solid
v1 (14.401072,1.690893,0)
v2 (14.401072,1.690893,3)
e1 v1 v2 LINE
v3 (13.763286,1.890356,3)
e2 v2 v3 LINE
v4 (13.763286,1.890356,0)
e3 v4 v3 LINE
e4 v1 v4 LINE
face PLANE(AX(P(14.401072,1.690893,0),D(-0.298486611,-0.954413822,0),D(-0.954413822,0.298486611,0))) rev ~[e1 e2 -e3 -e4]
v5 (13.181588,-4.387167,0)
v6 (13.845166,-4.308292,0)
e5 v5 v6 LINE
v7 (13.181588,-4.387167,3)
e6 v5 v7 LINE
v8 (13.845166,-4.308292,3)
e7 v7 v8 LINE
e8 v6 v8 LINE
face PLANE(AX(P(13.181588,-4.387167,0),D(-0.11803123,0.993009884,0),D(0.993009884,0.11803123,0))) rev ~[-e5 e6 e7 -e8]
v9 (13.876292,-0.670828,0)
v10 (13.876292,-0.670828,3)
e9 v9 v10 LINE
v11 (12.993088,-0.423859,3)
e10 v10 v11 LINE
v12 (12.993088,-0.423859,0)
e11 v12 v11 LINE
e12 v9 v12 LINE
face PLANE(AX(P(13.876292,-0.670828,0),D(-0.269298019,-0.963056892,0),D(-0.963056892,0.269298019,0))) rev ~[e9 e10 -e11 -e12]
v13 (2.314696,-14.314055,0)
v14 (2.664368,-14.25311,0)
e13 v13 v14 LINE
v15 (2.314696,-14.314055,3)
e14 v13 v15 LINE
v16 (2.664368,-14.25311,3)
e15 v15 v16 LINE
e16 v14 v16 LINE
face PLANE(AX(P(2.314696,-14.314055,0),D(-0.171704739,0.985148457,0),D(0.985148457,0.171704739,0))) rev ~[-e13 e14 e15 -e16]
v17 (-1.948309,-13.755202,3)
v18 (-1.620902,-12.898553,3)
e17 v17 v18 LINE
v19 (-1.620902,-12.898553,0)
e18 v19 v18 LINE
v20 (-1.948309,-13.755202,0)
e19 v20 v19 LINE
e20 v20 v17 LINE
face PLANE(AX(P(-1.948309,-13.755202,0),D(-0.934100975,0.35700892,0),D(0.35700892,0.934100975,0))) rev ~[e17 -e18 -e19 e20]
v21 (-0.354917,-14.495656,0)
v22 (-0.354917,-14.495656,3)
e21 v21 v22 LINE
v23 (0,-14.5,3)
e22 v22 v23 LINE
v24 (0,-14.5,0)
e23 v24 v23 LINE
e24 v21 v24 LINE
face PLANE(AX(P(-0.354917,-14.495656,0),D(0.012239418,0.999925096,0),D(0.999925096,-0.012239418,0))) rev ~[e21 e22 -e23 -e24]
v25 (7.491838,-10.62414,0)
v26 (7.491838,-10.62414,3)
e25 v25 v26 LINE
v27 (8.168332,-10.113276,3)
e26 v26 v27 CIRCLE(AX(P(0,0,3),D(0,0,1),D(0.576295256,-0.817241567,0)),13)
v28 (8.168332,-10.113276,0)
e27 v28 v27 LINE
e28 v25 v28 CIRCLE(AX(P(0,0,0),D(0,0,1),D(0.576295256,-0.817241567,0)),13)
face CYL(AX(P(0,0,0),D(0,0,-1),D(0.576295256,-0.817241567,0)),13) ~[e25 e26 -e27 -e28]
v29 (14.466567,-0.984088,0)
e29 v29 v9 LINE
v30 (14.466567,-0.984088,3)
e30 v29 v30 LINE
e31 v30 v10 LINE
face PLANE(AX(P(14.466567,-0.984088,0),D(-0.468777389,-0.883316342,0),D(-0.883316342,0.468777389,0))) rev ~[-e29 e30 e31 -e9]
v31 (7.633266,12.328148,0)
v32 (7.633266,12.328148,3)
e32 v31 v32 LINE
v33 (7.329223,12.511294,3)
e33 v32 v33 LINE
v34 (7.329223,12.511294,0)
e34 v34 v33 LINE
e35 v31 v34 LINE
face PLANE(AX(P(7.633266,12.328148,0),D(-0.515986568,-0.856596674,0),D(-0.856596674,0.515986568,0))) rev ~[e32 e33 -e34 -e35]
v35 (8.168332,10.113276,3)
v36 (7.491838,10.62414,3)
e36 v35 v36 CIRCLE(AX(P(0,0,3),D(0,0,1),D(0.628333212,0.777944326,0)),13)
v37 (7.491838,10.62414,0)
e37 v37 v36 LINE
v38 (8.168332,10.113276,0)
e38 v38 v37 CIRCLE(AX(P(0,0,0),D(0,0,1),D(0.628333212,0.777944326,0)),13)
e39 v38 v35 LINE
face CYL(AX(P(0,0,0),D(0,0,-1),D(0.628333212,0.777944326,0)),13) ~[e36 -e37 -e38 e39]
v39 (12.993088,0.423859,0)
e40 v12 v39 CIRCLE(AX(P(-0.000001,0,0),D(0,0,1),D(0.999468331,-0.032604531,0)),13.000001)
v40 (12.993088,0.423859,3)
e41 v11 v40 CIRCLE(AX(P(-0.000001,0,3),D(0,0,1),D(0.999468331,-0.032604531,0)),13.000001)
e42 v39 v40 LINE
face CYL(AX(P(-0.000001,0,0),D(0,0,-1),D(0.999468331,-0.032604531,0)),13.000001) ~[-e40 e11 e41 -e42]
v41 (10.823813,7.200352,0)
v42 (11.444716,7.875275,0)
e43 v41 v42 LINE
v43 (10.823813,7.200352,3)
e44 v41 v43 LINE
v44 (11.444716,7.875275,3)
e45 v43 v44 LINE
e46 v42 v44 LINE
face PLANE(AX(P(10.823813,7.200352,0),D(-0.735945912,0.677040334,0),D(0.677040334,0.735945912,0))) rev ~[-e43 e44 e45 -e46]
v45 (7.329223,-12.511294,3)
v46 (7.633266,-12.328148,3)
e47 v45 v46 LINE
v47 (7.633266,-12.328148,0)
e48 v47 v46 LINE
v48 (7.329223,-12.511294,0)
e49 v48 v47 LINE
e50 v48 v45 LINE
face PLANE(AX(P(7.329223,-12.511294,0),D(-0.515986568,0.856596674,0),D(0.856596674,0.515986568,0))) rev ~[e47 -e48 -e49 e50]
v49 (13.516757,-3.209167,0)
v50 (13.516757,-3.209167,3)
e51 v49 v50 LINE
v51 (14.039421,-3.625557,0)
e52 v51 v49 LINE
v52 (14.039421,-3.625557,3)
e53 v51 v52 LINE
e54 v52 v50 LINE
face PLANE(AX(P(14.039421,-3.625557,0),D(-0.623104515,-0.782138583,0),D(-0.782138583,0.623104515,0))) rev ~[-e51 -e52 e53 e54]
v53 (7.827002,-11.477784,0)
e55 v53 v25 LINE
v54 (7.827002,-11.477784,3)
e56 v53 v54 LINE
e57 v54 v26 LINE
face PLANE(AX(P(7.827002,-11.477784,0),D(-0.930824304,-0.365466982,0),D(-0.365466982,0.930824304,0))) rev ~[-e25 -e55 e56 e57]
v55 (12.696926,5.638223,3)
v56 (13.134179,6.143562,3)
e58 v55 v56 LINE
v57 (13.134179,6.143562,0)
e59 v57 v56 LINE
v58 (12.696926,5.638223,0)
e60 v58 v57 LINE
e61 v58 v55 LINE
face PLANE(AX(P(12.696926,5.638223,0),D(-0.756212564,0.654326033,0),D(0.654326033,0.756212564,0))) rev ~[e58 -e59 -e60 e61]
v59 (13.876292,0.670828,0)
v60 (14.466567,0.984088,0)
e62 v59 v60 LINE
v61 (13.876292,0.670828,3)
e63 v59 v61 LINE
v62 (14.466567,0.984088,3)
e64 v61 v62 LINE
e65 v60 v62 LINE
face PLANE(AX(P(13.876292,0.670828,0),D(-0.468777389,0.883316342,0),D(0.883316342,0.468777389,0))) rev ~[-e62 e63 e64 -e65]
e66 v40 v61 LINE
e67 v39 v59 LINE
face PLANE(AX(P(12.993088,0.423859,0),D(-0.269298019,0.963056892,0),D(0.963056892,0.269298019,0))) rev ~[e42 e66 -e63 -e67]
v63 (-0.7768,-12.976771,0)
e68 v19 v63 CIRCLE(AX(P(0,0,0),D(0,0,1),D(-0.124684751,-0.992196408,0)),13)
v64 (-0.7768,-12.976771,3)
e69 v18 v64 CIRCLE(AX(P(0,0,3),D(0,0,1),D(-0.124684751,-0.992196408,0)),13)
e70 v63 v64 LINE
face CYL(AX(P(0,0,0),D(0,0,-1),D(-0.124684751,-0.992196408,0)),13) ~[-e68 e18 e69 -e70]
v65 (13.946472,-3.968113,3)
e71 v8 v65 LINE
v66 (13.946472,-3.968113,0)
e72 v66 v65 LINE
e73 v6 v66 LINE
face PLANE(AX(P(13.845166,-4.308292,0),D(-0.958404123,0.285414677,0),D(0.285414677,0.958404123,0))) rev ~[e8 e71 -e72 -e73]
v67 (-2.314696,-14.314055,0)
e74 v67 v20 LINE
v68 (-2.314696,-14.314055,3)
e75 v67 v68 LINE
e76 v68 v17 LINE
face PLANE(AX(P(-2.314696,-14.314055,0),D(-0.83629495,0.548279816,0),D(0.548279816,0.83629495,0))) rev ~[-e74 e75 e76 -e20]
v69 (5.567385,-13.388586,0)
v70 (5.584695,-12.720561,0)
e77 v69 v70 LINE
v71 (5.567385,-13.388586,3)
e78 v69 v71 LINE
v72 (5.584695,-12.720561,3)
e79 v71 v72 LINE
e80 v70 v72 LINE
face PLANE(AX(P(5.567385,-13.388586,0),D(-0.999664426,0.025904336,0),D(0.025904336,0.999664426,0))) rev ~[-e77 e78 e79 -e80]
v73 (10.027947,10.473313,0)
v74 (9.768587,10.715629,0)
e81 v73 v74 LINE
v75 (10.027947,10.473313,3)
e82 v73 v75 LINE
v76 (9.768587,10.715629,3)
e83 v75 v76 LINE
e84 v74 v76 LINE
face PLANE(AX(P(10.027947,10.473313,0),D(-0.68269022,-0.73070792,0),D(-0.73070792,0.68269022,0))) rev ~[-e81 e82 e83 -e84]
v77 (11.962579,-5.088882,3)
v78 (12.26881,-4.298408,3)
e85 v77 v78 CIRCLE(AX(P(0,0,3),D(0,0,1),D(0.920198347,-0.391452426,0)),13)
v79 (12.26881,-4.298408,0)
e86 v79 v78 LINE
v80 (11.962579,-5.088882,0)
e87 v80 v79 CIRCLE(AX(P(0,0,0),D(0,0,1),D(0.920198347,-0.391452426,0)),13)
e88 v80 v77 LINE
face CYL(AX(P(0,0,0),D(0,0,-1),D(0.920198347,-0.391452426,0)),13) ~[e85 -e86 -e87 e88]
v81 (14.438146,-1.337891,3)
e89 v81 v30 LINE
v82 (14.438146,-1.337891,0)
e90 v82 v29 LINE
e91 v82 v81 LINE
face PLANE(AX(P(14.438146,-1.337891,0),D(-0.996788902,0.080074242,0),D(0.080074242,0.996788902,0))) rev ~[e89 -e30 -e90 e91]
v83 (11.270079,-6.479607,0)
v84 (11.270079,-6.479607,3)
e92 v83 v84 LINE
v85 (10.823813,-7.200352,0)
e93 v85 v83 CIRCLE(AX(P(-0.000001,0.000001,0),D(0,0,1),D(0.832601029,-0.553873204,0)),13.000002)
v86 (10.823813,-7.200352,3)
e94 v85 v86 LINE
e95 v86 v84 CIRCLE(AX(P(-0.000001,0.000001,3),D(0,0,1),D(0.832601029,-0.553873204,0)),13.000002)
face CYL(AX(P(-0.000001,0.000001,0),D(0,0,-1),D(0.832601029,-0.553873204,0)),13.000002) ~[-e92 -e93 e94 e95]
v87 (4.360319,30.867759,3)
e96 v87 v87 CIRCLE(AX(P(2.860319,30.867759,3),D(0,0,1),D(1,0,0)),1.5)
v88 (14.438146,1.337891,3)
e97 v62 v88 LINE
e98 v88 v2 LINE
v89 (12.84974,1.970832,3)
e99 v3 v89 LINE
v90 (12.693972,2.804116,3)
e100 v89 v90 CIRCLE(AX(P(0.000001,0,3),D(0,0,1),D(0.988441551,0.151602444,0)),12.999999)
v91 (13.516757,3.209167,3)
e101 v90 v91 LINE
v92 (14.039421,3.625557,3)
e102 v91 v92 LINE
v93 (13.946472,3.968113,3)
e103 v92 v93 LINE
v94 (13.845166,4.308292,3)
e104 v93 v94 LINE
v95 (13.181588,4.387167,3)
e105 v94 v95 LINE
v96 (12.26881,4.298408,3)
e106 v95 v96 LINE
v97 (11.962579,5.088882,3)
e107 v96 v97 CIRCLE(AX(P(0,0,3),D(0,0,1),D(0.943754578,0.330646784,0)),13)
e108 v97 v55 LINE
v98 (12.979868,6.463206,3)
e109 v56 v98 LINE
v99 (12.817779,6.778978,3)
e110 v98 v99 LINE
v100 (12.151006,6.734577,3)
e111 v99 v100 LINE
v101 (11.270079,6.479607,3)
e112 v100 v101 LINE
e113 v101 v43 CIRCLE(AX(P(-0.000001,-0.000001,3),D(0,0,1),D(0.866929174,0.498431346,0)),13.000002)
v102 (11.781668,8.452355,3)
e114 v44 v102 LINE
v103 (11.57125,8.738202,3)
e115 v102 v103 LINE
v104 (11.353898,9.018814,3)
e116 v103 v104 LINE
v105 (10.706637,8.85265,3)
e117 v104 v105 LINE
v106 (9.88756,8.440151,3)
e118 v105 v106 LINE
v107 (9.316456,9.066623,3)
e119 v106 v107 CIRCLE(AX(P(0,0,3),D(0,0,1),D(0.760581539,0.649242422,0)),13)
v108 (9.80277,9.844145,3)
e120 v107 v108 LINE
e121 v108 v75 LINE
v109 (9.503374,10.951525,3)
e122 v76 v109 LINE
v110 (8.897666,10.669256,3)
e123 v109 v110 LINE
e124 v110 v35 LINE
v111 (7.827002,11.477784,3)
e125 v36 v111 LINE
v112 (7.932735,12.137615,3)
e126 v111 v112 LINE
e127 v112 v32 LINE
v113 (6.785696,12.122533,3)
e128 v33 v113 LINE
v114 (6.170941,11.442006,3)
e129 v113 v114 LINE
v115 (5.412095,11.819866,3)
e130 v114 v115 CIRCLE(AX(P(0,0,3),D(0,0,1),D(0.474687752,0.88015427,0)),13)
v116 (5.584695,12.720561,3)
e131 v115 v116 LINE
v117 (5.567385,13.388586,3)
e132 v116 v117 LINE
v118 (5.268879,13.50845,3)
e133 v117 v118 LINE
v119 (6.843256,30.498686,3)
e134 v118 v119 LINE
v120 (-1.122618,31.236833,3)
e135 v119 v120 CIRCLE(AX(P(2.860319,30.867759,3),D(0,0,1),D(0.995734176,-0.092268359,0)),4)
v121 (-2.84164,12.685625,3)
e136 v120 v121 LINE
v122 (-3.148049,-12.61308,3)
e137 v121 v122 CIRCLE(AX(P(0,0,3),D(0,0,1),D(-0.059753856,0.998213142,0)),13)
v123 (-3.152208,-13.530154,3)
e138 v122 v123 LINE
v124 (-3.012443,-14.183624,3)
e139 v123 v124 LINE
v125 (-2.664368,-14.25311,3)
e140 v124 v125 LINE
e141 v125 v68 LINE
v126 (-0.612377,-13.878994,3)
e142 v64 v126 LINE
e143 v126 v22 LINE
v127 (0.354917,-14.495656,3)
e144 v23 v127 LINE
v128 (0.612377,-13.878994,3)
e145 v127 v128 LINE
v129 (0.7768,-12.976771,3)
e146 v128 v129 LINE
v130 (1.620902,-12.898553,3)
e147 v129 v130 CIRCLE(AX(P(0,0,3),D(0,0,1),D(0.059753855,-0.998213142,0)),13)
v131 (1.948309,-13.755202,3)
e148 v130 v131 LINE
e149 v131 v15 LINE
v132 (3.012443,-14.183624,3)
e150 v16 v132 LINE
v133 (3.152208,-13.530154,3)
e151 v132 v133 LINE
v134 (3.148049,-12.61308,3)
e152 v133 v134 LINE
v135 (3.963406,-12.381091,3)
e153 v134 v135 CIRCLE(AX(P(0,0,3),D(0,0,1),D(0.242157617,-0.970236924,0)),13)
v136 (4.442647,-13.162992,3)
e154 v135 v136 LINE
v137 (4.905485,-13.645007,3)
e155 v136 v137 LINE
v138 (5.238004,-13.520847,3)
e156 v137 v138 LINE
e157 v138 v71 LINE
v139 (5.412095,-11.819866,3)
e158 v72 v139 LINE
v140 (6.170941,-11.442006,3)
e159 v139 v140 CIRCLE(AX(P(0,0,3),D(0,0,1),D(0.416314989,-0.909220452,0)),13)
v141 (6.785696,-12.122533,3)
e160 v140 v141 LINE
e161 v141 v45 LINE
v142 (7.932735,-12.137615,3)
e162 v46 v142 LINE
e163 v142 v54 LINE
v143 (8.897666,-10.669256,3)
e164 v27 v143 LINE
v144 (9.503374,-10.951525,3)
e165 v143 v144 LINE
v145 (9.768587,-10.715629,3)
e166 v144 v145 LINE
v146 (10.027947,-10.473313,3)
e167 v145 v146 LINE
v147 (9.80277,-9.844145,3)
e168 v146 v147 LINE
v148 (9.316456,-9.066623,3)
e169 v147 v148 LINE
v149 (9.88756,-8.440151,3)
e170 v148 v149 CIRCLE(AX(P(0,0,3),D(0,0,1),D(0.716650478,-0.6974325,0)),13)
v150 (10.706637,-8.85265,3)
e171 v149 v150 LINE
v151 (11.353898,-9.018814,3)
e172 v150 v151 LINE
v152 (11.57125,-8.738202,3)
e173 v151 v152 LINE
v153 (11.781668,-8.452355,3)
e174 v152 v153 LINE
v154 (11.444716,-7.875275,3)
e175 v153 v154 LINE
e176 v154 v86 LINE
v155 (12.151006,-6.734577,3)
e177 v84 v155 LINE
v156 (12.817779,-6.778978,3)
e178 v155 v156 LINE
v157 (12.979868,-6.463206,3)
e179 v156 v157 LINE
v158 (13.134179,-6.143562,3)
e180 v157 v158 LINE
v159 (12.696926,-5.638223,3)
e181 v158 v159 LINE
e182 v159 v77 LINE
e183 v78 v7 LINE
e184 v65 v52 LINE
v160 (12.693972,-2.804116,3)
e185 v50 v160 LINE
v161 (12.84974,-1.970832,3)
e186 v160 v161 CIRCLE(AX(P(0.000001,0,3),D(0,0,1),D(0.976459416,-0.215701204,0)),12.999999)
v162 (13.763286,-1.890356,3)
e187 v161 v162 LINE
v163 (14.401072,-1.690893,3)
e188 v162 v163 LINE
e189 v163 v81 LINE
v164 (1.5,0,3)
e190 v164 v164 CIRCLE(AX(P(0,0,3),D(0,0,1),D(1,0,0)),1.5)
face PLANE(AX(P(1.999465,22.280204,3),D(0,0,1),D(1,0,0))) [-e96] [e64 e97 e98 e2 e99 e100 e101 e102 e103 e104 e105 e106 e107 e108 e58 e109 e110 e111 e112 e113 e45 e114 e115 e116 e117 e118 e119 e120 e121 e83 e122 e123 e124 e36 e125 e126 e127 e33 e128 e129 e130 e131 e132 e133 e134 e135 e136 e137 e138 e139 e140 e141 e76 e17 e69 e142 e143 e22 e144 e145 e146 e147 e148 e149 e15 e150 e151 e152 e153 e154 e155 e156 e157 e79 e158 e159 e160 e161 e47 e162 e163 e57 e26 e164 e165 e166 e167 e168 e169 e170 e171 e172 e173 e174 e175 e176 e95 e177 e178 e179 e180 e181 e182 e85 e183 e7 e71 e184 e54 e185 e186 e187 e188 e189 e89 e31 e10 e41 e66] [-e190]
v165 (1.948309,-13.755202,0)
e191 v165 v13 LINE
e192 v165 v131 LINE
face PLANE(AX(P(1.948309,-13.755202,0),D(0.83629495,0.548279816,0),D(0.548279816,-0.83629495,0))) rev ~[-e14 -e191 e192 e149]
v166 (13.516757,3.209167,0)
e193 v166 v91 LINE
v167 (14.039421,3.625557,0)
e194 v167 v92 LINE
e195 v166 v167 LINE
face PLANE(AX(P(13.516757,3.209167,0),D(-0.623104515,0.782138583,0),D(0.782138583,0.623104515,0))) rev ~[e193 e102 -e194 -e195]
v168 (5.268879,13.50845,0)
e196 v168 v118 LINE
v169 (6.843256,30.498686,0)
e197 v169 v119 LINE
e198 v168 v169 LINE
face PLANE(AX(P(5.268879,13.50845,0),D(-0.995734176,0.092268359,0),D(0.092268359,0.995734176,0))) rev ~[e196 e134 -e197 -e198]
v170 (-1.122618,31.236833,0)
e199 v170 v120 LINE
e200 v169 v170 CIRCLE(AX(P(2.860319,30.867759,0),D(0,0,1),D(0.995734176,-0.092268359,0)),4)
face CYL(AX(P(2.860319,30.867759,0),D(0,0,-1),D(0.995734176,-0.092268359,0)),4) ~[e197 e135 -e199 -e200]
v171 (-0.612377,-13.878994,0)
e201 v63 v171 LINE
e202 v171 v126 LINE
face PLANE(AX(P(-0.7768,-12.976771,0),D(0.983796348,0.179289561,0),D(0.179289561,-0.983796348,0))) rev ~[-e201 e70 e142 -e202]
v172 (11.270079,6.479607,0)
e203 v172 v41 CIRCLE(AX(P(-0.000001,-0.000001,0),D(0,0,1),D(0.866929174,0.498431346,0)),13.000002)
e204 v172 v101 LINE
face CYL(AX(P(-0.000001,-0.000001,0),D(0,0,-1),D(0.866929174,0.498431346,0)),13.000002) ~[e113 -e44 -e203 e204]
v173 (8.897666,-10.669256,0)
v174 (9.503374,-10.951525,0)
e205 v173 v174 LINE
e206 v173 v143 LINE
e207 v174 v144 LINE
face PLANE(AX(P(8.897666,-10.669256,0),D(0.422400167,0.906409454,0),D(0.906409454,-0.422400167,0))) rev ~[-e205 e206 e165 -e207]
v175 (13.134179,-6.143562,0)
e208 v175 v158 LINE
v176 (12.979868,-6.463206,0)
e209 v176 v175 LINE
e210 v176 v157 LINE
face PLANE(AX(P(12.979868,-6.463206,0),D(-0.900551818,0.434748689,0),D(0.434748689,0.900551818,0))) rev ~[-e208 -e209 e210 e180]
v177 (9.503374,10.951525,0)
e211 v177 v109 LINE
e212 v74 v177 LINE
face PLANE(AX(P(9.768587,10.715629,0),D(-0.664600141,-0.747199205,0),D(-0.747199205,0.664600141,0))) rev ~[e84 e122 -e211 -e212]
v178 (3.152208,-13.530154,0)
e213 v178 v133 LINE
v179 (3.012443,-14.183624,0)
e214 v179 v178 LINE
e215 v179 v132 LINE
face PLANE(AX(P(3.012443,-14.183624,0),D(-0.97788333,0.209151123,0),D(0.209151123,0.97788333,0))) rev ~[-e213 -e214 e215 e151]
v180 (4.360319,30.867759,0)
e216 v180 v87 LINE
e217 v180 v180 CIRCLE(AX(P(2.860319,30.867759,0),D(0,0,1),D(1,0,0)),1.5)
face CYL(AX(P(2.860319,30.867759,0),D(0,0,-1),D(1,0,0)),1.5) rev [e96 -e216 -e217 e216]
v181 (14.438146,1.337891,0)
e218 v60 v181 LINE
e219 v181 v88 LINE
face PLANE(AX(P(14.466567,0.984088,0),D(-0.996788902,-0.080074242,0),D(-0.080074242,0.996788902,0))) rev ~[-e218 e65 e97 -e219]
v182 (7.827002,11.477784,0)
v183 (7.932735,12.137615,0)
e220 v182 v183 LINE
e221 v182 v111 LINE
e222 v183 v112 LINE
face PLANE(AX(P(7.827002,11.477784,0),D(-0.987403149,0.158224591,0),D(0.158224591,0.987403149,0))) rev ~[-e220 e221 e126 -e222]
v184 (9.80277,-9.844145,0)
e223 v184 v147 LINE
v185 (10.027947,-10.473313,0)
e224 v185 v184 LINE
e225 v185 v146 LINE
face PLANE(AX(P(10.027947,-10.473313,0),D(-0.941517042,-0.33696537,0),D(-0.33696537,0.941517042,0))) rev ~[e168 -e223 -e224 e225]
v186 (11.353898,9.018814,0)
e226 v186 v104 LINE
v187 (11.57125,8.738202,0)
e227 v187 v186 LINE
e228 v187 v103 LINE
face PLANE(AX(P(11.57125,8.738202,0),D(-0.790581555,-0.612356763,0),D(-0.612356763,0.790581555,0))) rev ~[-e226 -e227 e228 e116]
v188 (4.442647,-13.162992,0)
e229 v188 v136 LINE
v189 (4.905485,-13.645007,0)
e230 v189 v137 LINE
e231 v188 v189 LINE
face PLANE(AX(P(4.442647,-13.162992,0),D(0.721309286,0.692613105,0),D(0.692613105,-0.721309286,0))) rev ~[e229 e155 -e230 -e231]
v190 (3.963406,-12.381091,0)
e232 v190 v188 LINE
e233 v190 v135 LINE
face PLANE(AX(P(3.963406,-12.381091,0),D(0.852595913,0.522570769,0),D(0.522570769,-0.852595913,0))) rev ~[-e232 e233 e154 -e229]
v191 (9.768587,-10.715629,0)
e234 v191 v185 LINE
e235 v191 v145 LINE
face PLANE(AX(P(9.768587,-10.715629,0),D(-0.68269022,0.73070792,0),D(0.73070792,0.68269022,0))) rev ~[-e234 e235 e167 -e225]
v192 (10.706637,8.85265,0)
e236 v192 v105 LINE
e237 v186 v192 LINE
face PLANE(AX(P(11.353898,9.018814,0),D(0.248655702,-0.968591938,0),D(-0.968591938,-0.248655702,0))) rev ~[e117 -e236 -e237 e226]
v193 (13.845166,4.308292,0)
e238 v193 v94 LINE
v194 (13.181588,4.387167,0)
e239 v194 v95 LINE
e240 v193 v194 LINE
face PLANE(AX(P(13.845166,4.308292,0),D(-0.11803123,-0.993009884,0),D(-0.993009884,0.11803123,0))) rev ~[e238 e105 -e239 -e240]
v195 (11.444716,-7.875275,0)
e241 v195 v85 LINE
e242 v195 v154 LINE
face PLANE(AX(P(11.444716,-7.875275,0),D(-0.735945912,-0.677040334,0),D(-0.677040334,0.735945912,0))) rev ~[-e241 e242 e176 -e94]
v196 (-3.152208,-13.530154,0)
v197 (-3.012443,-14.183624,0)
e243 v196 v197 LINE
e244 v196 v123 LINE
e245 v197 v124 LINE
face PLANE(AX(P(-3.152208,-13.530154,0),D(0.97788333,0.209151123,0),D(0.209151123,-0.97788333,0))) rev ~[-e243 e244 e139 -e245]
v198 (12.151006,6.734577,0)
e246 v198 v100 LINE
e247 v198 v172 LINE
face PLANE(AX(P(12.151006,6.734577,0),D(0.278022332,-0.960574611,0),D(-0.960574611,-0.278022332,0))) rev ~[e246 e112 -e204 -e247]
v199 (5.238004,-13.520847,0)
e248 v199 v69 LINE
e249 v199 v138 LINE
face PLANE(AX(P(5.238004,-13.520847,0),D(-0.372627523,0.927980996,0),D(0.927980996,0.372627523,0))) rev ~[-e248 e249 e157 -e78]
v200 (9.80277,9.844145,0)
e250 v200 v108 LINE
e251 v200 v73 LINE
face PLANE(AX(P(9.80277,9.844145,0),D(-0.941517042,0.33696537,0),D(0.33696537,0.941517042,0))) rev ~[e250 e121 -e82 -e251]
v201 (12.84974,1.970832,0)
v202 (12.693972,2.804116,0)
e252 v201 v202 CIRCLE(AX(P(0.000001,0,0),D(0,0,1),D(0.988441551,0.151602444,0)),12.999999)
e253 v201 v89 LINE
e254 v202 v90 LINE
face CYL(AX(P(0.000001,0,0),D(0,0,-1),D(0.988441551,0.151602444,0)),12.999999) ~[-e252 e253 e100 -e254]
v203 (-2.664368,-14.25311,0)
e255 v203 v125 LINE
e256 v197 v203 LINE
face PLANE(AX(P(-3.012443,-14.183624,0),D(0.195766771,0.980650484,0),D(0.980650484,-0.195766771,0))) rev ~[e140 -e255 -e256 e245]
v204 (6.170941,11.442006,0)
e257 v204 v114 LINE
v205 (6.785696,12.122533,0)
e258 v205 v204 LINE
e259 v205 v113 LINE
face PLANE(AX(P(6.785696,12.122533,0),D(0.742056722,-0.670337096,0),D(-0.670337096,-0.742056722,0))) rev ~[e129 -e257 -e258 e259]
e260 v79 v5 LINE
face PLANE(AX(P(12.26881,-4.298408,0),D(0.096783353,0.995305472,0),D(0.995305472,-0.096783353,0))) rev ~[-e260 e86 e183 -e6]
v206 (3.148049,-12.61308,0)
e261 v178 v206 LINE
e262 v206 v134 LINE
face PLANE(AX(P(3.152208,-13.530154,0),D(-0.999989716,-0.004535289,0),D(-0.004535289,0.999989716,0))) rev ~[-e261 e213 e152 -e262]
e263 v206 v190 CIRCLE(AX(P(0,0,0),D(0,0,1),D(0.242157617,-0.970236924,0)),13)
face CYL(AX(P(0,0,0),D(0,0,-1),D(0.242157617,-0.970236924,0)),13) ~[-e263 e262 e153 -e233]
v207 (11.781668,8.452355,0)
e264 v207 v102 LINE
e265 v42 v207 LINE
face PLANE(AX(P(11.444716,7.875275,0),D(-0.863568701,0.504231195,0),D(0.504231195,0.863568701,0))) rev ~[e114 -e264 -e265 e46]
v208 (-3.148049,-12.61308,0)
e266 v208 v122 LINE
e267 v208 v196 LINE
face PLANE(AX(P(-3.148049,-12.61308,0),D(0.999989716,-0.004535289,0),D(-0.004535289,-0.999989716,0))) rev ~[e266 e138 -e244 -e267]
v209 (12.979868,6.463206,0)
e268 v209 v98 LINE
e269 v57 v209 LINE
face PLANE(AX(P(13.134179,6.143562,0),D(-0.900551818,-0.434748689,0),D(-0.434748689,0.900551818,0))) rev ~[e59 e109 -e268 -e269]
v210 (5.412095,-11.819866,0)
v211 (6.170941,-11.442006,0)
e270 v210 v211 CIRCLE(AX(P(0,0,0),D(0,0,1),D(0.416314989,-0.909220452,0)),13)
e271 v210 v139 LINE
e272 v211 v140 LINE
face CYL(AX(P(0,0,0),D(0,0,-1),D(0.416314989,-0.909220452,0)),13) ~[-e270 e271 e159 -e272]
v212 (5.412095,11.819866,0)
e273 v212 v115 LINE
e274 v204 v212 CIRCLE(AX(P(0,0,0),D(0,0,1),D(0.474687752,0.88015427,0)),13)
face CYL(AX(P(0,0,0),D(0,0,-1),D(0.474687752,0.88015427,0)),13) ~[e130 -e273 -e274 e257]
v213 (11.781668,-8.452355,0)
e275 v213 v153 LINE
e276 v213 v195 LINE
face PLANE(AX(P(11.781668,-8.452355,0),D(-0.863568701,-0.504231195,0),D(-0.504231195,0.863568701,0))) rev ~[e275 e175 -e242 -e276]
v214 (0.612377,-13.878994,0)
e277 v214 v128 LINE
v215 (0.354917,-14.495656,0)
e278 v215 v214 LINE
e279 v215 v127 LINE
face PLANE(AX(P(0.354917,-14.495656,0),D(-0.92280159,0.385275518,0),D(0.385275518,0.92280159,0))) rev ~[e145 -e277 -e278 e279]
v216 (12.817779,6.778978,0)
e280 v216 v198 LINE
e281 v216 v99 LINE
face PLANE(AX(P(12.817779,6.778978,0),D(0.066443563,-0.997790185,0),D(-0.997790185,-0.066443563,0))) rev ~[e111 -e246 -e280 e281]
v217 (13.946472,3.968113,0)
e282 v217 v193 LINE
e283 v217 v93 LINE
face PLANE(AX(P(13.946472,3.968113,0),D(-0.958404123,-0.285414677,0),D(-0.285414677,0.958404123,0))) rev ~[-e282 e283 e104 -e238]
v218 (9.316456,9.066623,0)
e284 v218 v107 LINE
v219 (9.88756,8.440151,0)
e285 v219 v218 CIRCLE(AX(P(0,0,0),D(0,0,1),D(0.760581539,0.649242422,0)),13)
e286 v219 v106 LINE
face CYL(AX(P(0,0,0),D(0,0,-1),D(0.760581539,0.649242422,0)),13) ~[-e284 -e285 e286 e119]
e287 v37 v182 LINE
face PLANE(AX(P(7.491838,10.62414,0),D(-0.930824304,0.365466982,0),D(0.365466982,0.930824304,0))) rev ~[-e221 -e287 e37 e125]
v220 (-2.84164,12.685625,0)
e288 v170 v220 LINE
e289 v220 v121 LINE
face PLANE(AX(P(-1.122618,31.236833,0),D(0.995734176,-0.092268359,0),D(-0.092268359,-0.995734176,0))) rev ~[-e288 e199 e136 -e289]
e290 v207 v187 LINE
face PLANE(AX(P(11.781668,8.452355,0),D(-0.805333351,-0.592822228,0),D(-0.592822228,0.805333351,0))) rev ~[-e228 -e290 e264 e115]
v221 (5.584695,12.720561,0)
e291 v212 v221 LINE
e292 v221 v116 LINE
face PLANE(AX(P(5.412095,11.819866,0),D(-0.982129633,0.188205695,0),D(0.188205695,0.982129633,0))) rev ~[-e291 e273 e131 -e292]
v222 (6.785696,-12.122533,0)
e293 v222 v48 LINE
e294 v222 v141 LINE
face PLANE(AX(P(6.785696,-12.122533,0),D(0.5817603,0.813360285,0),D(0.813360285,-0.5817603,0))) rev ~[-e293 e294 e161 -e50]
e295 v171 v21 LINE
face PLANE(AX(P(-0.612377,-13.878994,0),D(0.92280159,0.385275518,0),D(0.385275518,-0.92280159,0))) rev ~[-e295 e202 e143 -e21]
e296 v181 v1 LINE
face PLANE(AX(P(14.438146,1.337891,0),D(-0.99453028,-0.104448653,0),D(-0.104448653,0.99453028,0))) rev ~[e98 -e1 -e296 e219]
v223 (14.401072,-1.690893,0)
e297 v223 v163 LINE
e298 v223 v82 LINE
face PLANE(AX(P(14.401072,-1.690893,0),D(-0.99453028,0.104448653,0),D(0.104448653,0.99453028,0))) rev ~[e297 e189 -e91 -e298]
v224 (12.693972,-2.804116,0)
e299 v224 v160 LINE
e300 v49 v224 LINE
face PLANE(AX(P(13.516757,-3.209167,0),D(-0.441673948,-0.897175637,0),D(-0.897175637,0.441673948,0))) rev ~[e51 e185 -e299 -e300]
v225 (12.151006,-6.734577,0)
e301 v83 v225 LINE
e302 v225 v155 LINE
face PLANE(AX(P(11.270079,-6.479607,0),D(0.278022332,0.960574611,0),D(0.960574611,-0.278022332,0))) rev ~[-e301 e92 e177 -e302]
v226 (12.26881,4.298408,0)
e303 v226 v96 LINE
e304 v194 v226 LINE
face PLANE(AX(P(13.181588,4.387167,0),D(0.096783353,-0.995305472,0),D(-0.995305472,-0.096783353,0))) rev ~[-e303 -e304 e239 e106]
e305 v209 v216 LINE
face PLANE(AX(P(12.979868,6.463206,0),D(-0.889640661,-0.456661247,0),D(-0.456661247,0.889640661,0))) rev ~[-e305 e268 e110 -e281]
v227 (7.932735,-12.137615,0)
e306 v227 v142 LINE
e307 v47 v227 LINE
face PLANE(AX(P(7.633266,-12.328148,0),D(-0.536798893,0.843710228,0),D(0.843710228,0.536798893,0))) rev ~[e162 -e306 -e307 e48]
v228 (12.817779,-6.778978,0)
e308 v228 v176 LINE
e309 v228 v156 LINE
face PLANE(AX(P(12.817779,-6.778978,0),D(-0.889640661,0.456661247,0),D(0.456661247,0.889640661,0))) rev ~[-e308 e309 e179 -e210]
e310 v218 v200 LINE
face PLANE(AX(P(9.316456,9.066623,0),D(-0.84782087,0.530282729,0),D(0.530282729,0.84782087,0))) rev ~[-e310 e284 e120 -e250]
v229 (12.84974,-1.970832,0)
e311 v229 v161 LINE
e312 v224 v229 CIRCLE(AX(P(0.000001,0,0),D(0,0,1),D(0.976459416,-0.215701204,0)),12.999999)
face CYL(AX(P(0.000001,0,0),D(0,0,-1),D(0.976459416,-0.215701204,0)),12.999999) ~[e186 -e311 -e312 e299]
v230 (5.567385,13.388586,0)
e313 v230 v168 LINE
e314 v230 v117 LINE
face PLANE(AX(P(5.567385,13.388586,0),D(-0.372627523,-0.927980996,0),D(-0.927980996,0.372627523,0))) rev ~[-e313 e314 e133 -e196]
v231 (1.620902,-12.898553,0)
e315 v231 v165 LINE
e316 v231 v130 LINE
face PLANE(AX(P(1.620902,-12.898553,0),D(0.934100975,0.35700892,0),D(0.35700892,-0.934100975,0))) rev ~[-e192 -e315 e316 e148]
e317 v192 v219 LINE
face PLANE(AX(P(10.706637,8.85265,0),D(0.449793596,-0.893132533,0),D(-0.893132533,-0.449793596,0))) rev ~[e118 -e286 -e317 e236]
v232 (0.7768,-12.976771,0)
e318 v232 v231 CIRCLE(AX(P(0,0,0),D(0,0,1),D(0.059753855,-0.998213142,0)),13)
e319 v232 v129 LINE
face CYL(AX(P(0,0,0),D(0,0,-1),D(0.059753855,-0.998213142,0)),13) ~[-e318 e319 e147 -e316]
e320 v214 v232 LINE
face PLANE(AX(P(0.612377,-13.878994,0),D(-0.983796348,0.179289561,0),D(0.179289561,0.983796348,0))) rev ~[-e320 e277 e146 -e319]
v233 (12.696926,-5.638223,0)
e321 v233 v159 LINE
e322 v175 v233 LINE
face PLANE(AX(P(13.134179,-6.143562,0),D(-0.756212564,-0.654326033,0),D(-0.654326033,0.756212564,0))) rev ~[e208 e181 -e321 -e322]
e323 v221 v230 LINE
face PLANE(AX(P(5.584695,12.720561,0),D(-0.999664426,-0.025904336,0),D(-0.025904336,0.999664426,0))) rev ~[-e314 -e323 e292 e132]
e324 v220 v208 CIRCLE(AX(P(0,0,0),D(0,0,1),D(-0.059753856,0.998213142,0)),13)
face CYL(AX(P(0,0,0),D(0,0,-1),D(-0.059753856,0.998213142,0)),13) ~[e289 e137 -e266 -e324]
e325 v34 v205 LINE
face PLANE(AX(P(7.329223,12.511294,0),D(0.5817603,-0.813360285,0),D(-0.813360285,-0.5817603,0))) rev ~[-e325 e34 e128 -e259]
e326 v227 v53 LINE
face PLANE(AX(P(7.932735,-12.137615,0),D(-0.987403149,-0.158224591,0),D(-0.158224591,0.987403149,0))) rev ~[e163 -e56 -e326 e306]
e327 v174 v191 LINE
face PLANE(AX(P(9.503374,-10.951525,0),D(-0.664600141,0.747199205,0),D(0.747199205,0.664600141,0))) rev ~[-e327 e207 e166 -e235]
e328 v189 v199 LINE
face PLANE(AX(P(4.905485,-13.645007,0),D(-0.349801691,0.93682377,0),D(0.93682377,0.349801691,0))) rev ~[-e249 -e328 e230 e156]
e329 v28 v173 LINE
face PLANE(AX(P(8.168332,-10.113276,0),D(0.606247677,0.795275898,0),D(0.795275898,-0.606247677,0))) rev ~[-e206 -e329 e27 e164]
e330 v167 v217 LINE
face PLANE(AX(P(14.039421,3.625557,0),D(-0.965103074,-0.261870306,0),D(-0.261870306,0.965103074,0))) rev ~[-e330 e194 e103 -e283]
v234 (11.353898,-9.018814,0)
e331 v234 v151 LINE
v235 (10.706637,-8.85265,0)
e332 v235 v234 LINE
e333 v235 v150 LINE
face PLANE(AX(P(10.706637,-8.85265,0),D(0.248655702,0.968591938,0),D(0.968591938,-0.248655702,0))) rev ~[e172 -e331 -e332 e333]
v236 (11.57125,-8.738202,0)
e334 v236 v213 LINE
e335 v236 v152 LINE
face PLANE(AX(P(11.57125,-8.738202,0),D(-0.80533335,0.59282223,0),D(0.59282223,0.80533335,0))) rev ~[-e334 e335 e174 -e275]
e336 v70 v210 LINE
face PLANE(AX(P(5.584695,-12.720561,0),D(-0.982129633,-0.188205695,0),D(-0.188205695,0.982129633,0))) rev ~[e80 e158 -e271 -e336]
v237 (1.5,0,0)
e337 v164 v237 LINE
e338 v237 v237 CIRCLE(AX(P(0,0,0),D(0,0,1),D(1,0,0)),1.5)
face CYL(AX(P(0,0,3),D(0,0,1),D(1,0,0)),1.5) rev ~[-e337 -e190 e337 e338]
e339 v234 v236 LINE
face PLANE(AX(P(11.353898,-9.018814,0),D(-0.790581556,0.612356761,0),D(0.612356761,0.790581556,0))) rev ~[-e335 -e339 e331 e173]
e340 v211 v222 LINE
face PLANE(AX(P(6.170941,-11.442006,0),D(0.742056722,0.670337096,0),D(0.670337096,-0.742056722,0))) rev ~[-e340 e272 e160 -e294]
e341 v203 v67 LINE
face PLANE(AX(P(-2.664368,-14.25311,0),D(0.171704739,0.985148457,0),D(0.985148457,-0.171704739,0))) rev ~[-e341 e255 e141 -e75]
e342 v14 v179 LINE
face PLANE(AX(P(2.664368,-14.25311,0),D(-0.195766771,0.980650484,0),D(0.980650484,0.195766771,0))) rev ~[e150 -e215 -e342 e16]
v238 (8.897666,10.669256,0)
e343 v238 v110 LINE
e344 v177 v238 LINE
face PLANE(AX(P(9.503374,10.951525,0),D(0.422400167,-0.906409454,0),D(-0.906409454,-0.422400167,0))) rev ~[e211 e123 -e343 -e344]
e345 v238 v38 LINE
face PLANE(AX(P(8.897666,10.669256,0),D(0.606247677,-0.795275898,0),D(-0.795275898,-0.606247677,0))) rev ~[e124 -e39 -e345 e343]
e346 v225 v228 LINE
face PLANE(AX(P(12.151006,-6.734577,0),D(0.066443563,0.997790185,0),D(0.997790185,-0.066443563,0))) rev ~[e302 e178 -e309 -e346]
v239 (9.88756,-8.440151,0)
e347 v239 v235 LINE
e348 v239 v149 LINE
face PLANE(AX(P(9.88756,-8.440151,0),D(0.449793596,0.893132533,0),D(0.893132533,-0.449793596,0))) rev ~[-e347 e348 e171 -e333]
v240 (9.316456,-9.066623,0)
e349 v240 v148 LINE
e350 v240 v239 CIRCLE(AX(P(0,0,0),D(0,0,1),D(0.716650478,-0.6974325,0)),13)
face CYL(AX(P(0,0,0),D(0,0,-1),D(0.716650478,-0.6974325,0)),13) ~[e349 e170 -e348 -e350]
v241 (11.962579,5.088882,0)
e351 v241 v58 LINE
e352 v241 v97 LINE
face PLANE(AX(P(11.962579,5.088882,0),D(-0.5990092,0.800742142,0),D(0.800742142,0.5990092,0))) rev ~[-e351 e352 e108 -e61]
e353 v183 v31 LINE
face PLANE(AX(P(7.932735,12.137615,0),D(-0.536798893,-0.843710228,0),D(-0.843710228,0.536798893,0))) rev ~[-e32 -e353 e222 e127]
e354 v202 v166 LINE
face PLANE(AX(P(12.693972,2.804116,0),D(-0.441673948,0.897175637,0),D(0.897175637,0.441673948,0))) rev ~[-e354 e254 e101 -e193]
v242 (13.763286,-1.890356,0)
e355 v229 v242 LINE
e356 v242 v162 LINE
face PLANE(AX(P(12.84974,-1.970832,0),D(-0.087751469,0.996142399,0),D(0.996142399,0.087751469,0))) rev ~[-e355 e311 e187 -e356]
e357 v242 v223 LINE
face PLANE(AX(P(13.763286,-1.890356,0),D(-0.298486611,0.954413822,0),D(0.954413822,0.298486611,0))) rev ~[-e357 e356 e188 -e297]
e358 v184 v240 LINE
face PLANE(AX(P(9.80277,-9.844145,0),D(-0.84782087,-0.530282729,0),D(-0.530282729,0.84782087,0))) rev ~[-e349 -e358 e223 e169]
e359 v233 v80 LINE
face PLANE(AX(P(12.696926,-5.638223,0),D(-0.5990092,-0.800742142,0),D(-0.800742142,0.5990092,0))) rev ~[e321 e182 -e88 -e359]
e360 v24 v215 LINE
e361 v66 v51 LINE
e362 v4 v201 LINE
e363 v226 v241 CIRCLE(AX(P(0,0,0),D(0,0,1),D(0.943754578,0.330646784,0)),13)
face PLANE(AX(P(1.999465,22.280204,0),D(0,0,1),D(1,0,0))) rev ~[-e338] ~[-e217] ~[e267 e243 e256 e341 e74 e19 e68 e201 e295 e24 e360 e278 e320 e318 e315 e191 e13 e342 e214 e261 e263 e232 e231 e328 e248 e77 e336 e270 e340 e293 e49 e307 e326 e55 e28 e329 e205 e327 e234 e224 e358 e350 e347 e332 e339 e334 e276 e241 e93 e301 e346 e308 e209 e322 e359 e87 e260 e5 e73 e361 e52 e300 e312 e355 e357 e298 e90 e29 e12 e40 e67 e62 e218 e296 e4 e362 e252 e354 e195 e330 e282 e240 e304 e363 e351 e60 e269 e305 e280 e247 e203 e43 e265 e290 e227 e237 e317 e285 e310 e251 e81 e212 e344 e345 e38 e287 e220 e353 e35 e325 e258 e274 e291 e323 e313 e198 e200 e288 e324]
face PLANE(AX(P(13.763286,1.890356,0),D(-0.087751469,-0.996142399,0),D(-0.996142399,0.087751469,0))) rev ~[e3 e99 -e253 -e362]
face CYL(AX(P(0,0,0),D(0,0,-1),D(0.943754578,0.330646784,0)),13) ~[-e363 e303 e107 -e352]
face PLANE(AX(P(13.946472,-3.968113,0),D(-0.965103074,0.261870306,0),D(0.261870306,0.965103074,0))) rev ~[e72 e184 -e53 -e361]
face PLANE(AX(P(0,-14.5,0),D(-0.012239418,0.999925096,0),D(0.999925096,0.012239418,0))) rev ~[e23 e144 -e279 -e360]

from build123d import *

# Parameters (mm, degrees)
BOSS_EXTRUDE1_DEPTH = 3
SKETCH2_R           = 1.5
CUT_EXTRUDE1_DEPTH  = 7
BOSS_EXTRUDE4_START = -3
SKETCH4_R           = 1.5
BOSS_EXTRUDE4_DEPTH = 3


with BuildPart() as part:
    # Sketch1 → Boss-Extrude1 (new body)
    with BuildSketch(Plane.XY):
        with BuildLine():
            Line((-0.612376666, 13.878994029), (-0.776800125, 12.976770845))
            ThreePointArc((-0.776800125, 12.976770845), (-12.944544292, 1.199488673), (-3.148049012, -12.613080013))
            Line((-3.148049012, -12.613080013), (-3.15220825, -13.530153864))
            Line((-3.15220825, -13.530153864), (-3.012443123, -14.183623882))
            Line((-3.012443123, -14.183623882), (-2.664368008, -14.253109945))
            Line((-2.664368008, -14.253109945), (-2.314696368, -14.314055356))
            Line((-2.314696368, -14.314055356), (-1.948308671, -13.755201698))
            Line((-1.948308671, -13.755201698), (-1.620901759, -12.89855331))
            ThreePointArc((-1.620901759, -12.89855331), (-1.199488673, -12.944544292), (-0.776800125, -12.976770845))
            Line((-0.776800125, -12.976770845), (-0.612376666, -13.878994029))
            Line((-0.612376666, -13.878994029), (-0.354916505, -14.495655703))
            Line((-0.354916505, -14.495655703), (0, -14.5))
            Line((0, -14.5), (0.354916505, -14.495655703))
            Line((0.354916505, -14.495655703), (0.612376666, -13.878994029))
            Line((0.612376666, -13.878994029), (0.776800125, -12.976770845))
            ThreePointArc((0.776800125, -12.976770845), (1.199488673, -12.944544292), (1.620901759, -12.89855331))
            Line((1.620901759, -12.89855331), (1.948308671, -13.755201698))
            Line((1.948308671, -13.755201698), (2.314696368, -14.314055356))
            Line((2.314696368, -14.314055356), (2.664368008, -14.253109945))
            Line((2.664368008, -14.253109945), (3.012443123, -14.183623882))
            Line((3.012443123, -14.183623882), (3.15220825, -13.530153864))
            Line((3.15220825, -13.530153864), (3.148049012, -12.613080013))
            ThreePointArc((3.148049012, -12.613080013), (3.557618871, -12.503733361), (3.963405777, -12.381091012))
            Line((3.963405777, -12.381091012), (4.442646693, -13.162992471))
            Line((4.442646693, -13.162992471), (4.905485034, -13.64500702))
            Line((4.905485034, -13.64500702), (5.23800416, -13.520847326))
            Line((5.23800416, -13.520847326), (5.567384604, -13.388585761))
            Line((5.567384604, -13.388585761), (5.584695163, -12.720560537))
            Line((5.584695163, -12.720560537), (5.412094866, -11.819865869))
            ThreePointArc((5.412094866, -11.819865869), (5.794598625, -11.637122788), (6.170940766, -11.442005509))
            Line((6.170940766, -11.442005509), (6.78569571, -12.122533323))
            Line((6.78569571, -12.122533323), (7.32922329, -12.511294336))
            Line((7.32922329, -12.511294336), (7.633266362, -12.328148468))
            Line((7.633266362, -12.328148468), (7.932735479, -12.137615409))
            Line((7.932735479, -12.137615409), (7.82700198, -11.477783777))
            Line((7.82700198, -11.477783777), (7.491838321, -10.624140369))
            ThreePointArc((7.491838321, -10.624140369), (7.834250273, -10.374223955), (8.168331768, -10.113276232))
            Line((8.168331768, -10.113276232), (8.897665999, -10.669255841))
            Line((8.897665999, -10.669255841), (9.503373637, -10.951524529))
            Line((9.503373637, -10.951524529), (9.768586833, -10.7156293))
            Line((9.768586833, -10.7156293), (10.027946562, -10.473313122))
            Line((10.027946562, -10.473313122), (9.802769632, -9.844144857))
            Line((9.802769632, -9.844144857), (9.316456206, -9.066622511))
            ThreePointArc((9.316456206, -9.066622511), (9.607115924, -8.758043367), (9.887560028, -8.440151462))
            Line((9.887560028, -8.440151462), (10.706636943, -8.852649649))
            Line((10.706636943, -8.852649649), (11.353897993, -9.01881369))
            Line((11.353897993, -9.01881369), (11.571249796, -8.738202227))
            Line((11.571249796, -8.738202227), (11.781667951, -8.452354718))
            Line((11.781667951, -8.452354718), (11.444715722, -7.875275391))
            Line((11.444715722, -7.875275391), (10.82381335, -7.200351698))
            ThreePointArc((10.82381335, -7.200351698), (11.052822764, -6.843618117), (11.27007929, -6.479607457))
            Line((11.27007929, -6.479607457), (12.151006207, -6.73457709))
            Line((12.151006207, -6.73457709), (12.81777897, -6.778977966))
            Line((12.81777897, -6.778977966), (12.979867725, -6.463206159))
            Line((12.979867725, -6.463206159), (13.134178769, -6.143561512))
            Line((13.134178769, -6.143561512), (12.696925744, -5.638222867))
            Line((12.696925744, -5.638222867), (11.962578511, -5.088881543))
            ThreePointArc((11.962578511, -5.088881543), (12.122138982, -4.69614166), (12.268809519, -4.298408191))
            Line((12.268809519, -4.298408191), (13.181587529, -4.387166586))
            Line((13.181587529, -4.387166586), (13.845165858, -4.308292279))
            Line((13.845165858, -4.308292279), (13.946471826, -3.968113356))
            Line((13.946471826, -3.968113356), (14.039420882, -3.625556687))
            Line((14.039420882, -3.625556687), (13.516757188, -3.209167425))
            Line((13.516757188, -3.209167425), (12.693972409, -2.804115631))
            ThreePointArc((12.693972409, -2.804115631), (12.778650296, -2.388743732), (12.849740155, -1.97083179))
            Line((12.849740155, -1.97083179), (13.763285697, -1.890356385))
            Line((13.763285697, -1.890356385), (14.401072228, -1.690892865))
            Line((14.401072228, -1.690892865), (14.438145556, -1.337891212))
            Line((14.438145556, -1.337891212), (14.466567355, -0.984087877))
            Line((14.466567355, -0.984087877), (13.876291677, -0.670827635))
            Line((13.876291677, -0.670827635), (12.993088302, -0.423858924))
            ThreePointArc((12.993088302, -0.423858924), (13, 0), (12.993088302, 0.423858924))
            Line((12.993088302, 0.423858924), (13.876291677, 0.670827635))
            Line((13.876291677, 0.670827635), (14.466567355, 0.984087877))
            Line((14.466567355, 0.984087877), (14.438145556, 1.337891212))
            Line((14.438145556, 1.337891212), (14.401072228, 1.690892865))
            Line((14.401072228, 1.690892865), (13.763285697, 1.890356385))
            Line((13.763285697, 1.890356385), (12.849740155, 1.97083179))
            ThreePointArc((12.849740155, 1.97083179), (12.778650296, 2.388743732), (12.693972409, 2.804115631))
            Line((12.693972409, 2.804115631), (13.516757188, 3.209167425))
            Line((13.516757188, 3.209167425), (14.039420882, 3.625556687))
            Line((14.039420882, 3.625556687), (13.946471826, 3.968113356))
            Line((13.946471826, 3.968113356), (13.845165858, 4.308292279))
            Line((13.845165858, 4.308292279), (13.181587529, 4.387166586))
            Line((13.181587529, 4.387166586), (12.268809519, 4.298408191))
            ThreePointArc((12.268809519, 4.298408191), (12.122138982, 4.69614166), (11.962578511, 5.088881543))
            Line((11.962578511, 5.088881543), (12.696925744, 5.638222867))
            Line((12.696925744, 5.638222867), (13.134178769, 6.143561512))
            Line((13.134178769, 6.143561512), (12.979867725, 6.463206159))
            Line((12.979867725, 6.463206159), (12.81777897, 6.778977966))
            Line((12.81777897, 6.778977966), (12.151006207, 6.73457709))
            Line((12.151006207, 6.73457709), (11.27007929, 6.479607457))
            ThreePointArc((11.27007929, 6.479607457), (11.052822764, 6.843618117), (10.82381335, 7.200351698))
            Line((10.82381335, 7.200351698), (11.444715722, 7.875275391))
            Line((11.444715722, 7.875275391), (11.781667951, 8.452354718))
            Line((11.781667951, 8.452354718), (11.571249796, 8.738202228))
            Line((11.571249796, 8.738202228), (11.353897993, 9.01881369))
            Line((11.353897993, 9.01881369), (10.706636943, 8.852649649))
            Line((10.706636943, 8.852649649), (9.887560028, 8.440151462))
            ThreePointArc((9.887560028, 8.440151462), (9.607115924, 8.758043367), (9.316456206, 9.066622511))
            Line((9.316456206, 9.066622511), (9.802769632, 9.844144857))
            Line((9.802769632, 9.844144857), (10.027946562, 10.473313122))
            Line((10.027946562, 10.473313122), (9.768586833, 10.7156293))
            Line((9.768586833, 10.7156293), (9.503373637, 10.951524529))
            Line((9.503373637, 10.951524529), (8.897665999, 10.669255841))
            Line((8.897665999, 10.669255841), (8.168331768, 10.113276232))
            ThreePointArc((8.168331768, 10.113276232), (7.834250273, 10.374223955), (7.491838321, 10.624140369))
            Line((7.491838321, 10.624140369), (7.82700198, 11.477783777))
            Line((7.82700198, 11.477783777), (7.932735479, 12.137615409))
            Line((7.932735479, 12.137615409), (7.633266362, 12.328148468))
            Line((7.633266362, 12.328148468), (7.32922329, 12.511294336))
            Line((7.32922329, 12.511294336), (6.78569571, 12.122533323))
            Line((6.78569571, 12.122533323), (6.170940766, 11.442005509))
            ThreePointArc((6.170940766, 11.442005509), (5.794598625, 11.637122788), (5.412094866, 11.819865869))
            Line((5.412094866, 11.819865869), (5.584695163, 12.720560537))
            Line((5.584695163, 12.720560537), (5.567384604, 13.388585761))
            Line((5.567384604, 13.388585761), (5.23800416, 13.520847326))
            Line((5.23800416, 13.520847326), (4.905485034, 13.64500702))
            Line((4.905485034, 13.64500702), (4.442646693, 13.162992471))
            Line((4.442646693, 13.162992471), (3.963405777, 12.381091012))
            ThreePointArc((3.963405777, 12.381091012), (3.557618871, 12.503733361), (3.148049012, 12.613080013))
            Line((3.148049012, 12.613080013), (3.15220825, 13.530153864))
            Line((3.15220825, 13.530153864), (3.012443123, 14.183623882))
            Line((3.012443123, 14.183623882), (2.664368008, 14.253109945))
            Line((2.664368008, 14.253109945), (2.314696368, 14.314055356))
            Line((2.314696368, 14.314055356), (1.948308671, 13.755201698))
            Line((1.948308671, 13.755201698), (1.620901759, 12.89855331))
            ThreePointArc((1.620901759, 12.89855331), (1.199488673, 12.944544292), (0.776800125, 12.976770845))
            Line((0.776800125, 12.976770845), (0.612376666, 13.878994029))
            Line((0.612376666, 13.878994029), (0.354916505, 14.495655703))
            Line((0.354916505, 14.495655703), (0, 14.5))
            Line((0, 14.5), (-0.354916505, 14.495655703))
            Line((-0.354916505, 14.495655703), (-0.612376666, 13.878994029))
        make_face()
    extrude(amount=BOSS_EXTRUDE1_DEPTH)

    # Sketch2 → Cut-Extrude1 (cut)
    with BuildSketch(Plane.XY.offset(3)):
        Circle(SKETCH2_R)
    extrude(amount=-CUT_EXTRUDE1_DEPTH, mode=Mode.SUBTRACT)

    # Sketch4 → Boss-Extrude4 (add)
    with BuildSketch(Plane.XY.offset(3).offset(BOSS_EXTRUDE4_START)):
        with BuildLine():
            Line((-1.122617562, 31.236832903), (-2.841640129, 12.68562499))
            ThreePointArc((-2.841640129, 12.68562499), (-1.815067202, 12.872666043), (-0.776800125, 12.976770845))
            Line((-0.776800125, 12.976770845), (-0.612376666, 13.878994029))
            Line((-0.612376666, 13.878994029), (-0.354916505, 14.495655703))
            Line((-0.354916505, 14.495655703), (0, 14.5))
            Line((0, 14.5), (0.354916505, 14.495655703))
            Line((0.354916505, 14.495655703), (0.612376666, 13.878994029))
            Line((0.612376666, 13.878994029), (0.776800125, 12.976770845))
            ThreePointArc((0.776800125, 12.976770845), (1.199488673, 12.944544292), (1.620901759, 12.89855331))
            Line((1.620901759, 12.89855331), (1.948308671, 13.755201698))
            Line((1.948308671, 13.755201698), (2.314696368, 14.314055356))
            Line((2.314696368, 14.314055356), (2.664368008, 14.253109945))
            Line((2.664368008, 14.253109945), (3.012443123, 14.183623882))
            Line((3.012443123, 14.183623882), (3.15220825, 13.530153864))
            Line((3.15220825, 13.530153864), (3.148049012, 12.613080013))
            ThreePointArc((3.148049012, 12.613080013), (3.557618871, 12.503733361), (3.963405777, 12.381091012))
            Line((3.963405777, 12.381091012), (4.442646693, 13.162992471))
            Line((4.442646693, 13.162992471), (4.905485034, 13.64500702))
            Line((4.905485034, 13.64500702), (5.23800416, 13.520847326))
            Line((5.23800416, 13.520847326), (5.268878609, 13.508449799))
            Line((5.268878609, 13.508449799), (6.843255849, 30.498686027))
            ThreePointArc((6.843255849, 30.498686027), (3.229392581, 34.85069617), (-1.122617562, 31.236832903))
        make_face()
        with Locations((2.860319143, 30.867759465)):
            Circle(SKETCH4_R, mode=Mode.SUBTRACT)
    extrude(amount=BOSS_EXTRUDE4_DEPTH)


solid = part.part
